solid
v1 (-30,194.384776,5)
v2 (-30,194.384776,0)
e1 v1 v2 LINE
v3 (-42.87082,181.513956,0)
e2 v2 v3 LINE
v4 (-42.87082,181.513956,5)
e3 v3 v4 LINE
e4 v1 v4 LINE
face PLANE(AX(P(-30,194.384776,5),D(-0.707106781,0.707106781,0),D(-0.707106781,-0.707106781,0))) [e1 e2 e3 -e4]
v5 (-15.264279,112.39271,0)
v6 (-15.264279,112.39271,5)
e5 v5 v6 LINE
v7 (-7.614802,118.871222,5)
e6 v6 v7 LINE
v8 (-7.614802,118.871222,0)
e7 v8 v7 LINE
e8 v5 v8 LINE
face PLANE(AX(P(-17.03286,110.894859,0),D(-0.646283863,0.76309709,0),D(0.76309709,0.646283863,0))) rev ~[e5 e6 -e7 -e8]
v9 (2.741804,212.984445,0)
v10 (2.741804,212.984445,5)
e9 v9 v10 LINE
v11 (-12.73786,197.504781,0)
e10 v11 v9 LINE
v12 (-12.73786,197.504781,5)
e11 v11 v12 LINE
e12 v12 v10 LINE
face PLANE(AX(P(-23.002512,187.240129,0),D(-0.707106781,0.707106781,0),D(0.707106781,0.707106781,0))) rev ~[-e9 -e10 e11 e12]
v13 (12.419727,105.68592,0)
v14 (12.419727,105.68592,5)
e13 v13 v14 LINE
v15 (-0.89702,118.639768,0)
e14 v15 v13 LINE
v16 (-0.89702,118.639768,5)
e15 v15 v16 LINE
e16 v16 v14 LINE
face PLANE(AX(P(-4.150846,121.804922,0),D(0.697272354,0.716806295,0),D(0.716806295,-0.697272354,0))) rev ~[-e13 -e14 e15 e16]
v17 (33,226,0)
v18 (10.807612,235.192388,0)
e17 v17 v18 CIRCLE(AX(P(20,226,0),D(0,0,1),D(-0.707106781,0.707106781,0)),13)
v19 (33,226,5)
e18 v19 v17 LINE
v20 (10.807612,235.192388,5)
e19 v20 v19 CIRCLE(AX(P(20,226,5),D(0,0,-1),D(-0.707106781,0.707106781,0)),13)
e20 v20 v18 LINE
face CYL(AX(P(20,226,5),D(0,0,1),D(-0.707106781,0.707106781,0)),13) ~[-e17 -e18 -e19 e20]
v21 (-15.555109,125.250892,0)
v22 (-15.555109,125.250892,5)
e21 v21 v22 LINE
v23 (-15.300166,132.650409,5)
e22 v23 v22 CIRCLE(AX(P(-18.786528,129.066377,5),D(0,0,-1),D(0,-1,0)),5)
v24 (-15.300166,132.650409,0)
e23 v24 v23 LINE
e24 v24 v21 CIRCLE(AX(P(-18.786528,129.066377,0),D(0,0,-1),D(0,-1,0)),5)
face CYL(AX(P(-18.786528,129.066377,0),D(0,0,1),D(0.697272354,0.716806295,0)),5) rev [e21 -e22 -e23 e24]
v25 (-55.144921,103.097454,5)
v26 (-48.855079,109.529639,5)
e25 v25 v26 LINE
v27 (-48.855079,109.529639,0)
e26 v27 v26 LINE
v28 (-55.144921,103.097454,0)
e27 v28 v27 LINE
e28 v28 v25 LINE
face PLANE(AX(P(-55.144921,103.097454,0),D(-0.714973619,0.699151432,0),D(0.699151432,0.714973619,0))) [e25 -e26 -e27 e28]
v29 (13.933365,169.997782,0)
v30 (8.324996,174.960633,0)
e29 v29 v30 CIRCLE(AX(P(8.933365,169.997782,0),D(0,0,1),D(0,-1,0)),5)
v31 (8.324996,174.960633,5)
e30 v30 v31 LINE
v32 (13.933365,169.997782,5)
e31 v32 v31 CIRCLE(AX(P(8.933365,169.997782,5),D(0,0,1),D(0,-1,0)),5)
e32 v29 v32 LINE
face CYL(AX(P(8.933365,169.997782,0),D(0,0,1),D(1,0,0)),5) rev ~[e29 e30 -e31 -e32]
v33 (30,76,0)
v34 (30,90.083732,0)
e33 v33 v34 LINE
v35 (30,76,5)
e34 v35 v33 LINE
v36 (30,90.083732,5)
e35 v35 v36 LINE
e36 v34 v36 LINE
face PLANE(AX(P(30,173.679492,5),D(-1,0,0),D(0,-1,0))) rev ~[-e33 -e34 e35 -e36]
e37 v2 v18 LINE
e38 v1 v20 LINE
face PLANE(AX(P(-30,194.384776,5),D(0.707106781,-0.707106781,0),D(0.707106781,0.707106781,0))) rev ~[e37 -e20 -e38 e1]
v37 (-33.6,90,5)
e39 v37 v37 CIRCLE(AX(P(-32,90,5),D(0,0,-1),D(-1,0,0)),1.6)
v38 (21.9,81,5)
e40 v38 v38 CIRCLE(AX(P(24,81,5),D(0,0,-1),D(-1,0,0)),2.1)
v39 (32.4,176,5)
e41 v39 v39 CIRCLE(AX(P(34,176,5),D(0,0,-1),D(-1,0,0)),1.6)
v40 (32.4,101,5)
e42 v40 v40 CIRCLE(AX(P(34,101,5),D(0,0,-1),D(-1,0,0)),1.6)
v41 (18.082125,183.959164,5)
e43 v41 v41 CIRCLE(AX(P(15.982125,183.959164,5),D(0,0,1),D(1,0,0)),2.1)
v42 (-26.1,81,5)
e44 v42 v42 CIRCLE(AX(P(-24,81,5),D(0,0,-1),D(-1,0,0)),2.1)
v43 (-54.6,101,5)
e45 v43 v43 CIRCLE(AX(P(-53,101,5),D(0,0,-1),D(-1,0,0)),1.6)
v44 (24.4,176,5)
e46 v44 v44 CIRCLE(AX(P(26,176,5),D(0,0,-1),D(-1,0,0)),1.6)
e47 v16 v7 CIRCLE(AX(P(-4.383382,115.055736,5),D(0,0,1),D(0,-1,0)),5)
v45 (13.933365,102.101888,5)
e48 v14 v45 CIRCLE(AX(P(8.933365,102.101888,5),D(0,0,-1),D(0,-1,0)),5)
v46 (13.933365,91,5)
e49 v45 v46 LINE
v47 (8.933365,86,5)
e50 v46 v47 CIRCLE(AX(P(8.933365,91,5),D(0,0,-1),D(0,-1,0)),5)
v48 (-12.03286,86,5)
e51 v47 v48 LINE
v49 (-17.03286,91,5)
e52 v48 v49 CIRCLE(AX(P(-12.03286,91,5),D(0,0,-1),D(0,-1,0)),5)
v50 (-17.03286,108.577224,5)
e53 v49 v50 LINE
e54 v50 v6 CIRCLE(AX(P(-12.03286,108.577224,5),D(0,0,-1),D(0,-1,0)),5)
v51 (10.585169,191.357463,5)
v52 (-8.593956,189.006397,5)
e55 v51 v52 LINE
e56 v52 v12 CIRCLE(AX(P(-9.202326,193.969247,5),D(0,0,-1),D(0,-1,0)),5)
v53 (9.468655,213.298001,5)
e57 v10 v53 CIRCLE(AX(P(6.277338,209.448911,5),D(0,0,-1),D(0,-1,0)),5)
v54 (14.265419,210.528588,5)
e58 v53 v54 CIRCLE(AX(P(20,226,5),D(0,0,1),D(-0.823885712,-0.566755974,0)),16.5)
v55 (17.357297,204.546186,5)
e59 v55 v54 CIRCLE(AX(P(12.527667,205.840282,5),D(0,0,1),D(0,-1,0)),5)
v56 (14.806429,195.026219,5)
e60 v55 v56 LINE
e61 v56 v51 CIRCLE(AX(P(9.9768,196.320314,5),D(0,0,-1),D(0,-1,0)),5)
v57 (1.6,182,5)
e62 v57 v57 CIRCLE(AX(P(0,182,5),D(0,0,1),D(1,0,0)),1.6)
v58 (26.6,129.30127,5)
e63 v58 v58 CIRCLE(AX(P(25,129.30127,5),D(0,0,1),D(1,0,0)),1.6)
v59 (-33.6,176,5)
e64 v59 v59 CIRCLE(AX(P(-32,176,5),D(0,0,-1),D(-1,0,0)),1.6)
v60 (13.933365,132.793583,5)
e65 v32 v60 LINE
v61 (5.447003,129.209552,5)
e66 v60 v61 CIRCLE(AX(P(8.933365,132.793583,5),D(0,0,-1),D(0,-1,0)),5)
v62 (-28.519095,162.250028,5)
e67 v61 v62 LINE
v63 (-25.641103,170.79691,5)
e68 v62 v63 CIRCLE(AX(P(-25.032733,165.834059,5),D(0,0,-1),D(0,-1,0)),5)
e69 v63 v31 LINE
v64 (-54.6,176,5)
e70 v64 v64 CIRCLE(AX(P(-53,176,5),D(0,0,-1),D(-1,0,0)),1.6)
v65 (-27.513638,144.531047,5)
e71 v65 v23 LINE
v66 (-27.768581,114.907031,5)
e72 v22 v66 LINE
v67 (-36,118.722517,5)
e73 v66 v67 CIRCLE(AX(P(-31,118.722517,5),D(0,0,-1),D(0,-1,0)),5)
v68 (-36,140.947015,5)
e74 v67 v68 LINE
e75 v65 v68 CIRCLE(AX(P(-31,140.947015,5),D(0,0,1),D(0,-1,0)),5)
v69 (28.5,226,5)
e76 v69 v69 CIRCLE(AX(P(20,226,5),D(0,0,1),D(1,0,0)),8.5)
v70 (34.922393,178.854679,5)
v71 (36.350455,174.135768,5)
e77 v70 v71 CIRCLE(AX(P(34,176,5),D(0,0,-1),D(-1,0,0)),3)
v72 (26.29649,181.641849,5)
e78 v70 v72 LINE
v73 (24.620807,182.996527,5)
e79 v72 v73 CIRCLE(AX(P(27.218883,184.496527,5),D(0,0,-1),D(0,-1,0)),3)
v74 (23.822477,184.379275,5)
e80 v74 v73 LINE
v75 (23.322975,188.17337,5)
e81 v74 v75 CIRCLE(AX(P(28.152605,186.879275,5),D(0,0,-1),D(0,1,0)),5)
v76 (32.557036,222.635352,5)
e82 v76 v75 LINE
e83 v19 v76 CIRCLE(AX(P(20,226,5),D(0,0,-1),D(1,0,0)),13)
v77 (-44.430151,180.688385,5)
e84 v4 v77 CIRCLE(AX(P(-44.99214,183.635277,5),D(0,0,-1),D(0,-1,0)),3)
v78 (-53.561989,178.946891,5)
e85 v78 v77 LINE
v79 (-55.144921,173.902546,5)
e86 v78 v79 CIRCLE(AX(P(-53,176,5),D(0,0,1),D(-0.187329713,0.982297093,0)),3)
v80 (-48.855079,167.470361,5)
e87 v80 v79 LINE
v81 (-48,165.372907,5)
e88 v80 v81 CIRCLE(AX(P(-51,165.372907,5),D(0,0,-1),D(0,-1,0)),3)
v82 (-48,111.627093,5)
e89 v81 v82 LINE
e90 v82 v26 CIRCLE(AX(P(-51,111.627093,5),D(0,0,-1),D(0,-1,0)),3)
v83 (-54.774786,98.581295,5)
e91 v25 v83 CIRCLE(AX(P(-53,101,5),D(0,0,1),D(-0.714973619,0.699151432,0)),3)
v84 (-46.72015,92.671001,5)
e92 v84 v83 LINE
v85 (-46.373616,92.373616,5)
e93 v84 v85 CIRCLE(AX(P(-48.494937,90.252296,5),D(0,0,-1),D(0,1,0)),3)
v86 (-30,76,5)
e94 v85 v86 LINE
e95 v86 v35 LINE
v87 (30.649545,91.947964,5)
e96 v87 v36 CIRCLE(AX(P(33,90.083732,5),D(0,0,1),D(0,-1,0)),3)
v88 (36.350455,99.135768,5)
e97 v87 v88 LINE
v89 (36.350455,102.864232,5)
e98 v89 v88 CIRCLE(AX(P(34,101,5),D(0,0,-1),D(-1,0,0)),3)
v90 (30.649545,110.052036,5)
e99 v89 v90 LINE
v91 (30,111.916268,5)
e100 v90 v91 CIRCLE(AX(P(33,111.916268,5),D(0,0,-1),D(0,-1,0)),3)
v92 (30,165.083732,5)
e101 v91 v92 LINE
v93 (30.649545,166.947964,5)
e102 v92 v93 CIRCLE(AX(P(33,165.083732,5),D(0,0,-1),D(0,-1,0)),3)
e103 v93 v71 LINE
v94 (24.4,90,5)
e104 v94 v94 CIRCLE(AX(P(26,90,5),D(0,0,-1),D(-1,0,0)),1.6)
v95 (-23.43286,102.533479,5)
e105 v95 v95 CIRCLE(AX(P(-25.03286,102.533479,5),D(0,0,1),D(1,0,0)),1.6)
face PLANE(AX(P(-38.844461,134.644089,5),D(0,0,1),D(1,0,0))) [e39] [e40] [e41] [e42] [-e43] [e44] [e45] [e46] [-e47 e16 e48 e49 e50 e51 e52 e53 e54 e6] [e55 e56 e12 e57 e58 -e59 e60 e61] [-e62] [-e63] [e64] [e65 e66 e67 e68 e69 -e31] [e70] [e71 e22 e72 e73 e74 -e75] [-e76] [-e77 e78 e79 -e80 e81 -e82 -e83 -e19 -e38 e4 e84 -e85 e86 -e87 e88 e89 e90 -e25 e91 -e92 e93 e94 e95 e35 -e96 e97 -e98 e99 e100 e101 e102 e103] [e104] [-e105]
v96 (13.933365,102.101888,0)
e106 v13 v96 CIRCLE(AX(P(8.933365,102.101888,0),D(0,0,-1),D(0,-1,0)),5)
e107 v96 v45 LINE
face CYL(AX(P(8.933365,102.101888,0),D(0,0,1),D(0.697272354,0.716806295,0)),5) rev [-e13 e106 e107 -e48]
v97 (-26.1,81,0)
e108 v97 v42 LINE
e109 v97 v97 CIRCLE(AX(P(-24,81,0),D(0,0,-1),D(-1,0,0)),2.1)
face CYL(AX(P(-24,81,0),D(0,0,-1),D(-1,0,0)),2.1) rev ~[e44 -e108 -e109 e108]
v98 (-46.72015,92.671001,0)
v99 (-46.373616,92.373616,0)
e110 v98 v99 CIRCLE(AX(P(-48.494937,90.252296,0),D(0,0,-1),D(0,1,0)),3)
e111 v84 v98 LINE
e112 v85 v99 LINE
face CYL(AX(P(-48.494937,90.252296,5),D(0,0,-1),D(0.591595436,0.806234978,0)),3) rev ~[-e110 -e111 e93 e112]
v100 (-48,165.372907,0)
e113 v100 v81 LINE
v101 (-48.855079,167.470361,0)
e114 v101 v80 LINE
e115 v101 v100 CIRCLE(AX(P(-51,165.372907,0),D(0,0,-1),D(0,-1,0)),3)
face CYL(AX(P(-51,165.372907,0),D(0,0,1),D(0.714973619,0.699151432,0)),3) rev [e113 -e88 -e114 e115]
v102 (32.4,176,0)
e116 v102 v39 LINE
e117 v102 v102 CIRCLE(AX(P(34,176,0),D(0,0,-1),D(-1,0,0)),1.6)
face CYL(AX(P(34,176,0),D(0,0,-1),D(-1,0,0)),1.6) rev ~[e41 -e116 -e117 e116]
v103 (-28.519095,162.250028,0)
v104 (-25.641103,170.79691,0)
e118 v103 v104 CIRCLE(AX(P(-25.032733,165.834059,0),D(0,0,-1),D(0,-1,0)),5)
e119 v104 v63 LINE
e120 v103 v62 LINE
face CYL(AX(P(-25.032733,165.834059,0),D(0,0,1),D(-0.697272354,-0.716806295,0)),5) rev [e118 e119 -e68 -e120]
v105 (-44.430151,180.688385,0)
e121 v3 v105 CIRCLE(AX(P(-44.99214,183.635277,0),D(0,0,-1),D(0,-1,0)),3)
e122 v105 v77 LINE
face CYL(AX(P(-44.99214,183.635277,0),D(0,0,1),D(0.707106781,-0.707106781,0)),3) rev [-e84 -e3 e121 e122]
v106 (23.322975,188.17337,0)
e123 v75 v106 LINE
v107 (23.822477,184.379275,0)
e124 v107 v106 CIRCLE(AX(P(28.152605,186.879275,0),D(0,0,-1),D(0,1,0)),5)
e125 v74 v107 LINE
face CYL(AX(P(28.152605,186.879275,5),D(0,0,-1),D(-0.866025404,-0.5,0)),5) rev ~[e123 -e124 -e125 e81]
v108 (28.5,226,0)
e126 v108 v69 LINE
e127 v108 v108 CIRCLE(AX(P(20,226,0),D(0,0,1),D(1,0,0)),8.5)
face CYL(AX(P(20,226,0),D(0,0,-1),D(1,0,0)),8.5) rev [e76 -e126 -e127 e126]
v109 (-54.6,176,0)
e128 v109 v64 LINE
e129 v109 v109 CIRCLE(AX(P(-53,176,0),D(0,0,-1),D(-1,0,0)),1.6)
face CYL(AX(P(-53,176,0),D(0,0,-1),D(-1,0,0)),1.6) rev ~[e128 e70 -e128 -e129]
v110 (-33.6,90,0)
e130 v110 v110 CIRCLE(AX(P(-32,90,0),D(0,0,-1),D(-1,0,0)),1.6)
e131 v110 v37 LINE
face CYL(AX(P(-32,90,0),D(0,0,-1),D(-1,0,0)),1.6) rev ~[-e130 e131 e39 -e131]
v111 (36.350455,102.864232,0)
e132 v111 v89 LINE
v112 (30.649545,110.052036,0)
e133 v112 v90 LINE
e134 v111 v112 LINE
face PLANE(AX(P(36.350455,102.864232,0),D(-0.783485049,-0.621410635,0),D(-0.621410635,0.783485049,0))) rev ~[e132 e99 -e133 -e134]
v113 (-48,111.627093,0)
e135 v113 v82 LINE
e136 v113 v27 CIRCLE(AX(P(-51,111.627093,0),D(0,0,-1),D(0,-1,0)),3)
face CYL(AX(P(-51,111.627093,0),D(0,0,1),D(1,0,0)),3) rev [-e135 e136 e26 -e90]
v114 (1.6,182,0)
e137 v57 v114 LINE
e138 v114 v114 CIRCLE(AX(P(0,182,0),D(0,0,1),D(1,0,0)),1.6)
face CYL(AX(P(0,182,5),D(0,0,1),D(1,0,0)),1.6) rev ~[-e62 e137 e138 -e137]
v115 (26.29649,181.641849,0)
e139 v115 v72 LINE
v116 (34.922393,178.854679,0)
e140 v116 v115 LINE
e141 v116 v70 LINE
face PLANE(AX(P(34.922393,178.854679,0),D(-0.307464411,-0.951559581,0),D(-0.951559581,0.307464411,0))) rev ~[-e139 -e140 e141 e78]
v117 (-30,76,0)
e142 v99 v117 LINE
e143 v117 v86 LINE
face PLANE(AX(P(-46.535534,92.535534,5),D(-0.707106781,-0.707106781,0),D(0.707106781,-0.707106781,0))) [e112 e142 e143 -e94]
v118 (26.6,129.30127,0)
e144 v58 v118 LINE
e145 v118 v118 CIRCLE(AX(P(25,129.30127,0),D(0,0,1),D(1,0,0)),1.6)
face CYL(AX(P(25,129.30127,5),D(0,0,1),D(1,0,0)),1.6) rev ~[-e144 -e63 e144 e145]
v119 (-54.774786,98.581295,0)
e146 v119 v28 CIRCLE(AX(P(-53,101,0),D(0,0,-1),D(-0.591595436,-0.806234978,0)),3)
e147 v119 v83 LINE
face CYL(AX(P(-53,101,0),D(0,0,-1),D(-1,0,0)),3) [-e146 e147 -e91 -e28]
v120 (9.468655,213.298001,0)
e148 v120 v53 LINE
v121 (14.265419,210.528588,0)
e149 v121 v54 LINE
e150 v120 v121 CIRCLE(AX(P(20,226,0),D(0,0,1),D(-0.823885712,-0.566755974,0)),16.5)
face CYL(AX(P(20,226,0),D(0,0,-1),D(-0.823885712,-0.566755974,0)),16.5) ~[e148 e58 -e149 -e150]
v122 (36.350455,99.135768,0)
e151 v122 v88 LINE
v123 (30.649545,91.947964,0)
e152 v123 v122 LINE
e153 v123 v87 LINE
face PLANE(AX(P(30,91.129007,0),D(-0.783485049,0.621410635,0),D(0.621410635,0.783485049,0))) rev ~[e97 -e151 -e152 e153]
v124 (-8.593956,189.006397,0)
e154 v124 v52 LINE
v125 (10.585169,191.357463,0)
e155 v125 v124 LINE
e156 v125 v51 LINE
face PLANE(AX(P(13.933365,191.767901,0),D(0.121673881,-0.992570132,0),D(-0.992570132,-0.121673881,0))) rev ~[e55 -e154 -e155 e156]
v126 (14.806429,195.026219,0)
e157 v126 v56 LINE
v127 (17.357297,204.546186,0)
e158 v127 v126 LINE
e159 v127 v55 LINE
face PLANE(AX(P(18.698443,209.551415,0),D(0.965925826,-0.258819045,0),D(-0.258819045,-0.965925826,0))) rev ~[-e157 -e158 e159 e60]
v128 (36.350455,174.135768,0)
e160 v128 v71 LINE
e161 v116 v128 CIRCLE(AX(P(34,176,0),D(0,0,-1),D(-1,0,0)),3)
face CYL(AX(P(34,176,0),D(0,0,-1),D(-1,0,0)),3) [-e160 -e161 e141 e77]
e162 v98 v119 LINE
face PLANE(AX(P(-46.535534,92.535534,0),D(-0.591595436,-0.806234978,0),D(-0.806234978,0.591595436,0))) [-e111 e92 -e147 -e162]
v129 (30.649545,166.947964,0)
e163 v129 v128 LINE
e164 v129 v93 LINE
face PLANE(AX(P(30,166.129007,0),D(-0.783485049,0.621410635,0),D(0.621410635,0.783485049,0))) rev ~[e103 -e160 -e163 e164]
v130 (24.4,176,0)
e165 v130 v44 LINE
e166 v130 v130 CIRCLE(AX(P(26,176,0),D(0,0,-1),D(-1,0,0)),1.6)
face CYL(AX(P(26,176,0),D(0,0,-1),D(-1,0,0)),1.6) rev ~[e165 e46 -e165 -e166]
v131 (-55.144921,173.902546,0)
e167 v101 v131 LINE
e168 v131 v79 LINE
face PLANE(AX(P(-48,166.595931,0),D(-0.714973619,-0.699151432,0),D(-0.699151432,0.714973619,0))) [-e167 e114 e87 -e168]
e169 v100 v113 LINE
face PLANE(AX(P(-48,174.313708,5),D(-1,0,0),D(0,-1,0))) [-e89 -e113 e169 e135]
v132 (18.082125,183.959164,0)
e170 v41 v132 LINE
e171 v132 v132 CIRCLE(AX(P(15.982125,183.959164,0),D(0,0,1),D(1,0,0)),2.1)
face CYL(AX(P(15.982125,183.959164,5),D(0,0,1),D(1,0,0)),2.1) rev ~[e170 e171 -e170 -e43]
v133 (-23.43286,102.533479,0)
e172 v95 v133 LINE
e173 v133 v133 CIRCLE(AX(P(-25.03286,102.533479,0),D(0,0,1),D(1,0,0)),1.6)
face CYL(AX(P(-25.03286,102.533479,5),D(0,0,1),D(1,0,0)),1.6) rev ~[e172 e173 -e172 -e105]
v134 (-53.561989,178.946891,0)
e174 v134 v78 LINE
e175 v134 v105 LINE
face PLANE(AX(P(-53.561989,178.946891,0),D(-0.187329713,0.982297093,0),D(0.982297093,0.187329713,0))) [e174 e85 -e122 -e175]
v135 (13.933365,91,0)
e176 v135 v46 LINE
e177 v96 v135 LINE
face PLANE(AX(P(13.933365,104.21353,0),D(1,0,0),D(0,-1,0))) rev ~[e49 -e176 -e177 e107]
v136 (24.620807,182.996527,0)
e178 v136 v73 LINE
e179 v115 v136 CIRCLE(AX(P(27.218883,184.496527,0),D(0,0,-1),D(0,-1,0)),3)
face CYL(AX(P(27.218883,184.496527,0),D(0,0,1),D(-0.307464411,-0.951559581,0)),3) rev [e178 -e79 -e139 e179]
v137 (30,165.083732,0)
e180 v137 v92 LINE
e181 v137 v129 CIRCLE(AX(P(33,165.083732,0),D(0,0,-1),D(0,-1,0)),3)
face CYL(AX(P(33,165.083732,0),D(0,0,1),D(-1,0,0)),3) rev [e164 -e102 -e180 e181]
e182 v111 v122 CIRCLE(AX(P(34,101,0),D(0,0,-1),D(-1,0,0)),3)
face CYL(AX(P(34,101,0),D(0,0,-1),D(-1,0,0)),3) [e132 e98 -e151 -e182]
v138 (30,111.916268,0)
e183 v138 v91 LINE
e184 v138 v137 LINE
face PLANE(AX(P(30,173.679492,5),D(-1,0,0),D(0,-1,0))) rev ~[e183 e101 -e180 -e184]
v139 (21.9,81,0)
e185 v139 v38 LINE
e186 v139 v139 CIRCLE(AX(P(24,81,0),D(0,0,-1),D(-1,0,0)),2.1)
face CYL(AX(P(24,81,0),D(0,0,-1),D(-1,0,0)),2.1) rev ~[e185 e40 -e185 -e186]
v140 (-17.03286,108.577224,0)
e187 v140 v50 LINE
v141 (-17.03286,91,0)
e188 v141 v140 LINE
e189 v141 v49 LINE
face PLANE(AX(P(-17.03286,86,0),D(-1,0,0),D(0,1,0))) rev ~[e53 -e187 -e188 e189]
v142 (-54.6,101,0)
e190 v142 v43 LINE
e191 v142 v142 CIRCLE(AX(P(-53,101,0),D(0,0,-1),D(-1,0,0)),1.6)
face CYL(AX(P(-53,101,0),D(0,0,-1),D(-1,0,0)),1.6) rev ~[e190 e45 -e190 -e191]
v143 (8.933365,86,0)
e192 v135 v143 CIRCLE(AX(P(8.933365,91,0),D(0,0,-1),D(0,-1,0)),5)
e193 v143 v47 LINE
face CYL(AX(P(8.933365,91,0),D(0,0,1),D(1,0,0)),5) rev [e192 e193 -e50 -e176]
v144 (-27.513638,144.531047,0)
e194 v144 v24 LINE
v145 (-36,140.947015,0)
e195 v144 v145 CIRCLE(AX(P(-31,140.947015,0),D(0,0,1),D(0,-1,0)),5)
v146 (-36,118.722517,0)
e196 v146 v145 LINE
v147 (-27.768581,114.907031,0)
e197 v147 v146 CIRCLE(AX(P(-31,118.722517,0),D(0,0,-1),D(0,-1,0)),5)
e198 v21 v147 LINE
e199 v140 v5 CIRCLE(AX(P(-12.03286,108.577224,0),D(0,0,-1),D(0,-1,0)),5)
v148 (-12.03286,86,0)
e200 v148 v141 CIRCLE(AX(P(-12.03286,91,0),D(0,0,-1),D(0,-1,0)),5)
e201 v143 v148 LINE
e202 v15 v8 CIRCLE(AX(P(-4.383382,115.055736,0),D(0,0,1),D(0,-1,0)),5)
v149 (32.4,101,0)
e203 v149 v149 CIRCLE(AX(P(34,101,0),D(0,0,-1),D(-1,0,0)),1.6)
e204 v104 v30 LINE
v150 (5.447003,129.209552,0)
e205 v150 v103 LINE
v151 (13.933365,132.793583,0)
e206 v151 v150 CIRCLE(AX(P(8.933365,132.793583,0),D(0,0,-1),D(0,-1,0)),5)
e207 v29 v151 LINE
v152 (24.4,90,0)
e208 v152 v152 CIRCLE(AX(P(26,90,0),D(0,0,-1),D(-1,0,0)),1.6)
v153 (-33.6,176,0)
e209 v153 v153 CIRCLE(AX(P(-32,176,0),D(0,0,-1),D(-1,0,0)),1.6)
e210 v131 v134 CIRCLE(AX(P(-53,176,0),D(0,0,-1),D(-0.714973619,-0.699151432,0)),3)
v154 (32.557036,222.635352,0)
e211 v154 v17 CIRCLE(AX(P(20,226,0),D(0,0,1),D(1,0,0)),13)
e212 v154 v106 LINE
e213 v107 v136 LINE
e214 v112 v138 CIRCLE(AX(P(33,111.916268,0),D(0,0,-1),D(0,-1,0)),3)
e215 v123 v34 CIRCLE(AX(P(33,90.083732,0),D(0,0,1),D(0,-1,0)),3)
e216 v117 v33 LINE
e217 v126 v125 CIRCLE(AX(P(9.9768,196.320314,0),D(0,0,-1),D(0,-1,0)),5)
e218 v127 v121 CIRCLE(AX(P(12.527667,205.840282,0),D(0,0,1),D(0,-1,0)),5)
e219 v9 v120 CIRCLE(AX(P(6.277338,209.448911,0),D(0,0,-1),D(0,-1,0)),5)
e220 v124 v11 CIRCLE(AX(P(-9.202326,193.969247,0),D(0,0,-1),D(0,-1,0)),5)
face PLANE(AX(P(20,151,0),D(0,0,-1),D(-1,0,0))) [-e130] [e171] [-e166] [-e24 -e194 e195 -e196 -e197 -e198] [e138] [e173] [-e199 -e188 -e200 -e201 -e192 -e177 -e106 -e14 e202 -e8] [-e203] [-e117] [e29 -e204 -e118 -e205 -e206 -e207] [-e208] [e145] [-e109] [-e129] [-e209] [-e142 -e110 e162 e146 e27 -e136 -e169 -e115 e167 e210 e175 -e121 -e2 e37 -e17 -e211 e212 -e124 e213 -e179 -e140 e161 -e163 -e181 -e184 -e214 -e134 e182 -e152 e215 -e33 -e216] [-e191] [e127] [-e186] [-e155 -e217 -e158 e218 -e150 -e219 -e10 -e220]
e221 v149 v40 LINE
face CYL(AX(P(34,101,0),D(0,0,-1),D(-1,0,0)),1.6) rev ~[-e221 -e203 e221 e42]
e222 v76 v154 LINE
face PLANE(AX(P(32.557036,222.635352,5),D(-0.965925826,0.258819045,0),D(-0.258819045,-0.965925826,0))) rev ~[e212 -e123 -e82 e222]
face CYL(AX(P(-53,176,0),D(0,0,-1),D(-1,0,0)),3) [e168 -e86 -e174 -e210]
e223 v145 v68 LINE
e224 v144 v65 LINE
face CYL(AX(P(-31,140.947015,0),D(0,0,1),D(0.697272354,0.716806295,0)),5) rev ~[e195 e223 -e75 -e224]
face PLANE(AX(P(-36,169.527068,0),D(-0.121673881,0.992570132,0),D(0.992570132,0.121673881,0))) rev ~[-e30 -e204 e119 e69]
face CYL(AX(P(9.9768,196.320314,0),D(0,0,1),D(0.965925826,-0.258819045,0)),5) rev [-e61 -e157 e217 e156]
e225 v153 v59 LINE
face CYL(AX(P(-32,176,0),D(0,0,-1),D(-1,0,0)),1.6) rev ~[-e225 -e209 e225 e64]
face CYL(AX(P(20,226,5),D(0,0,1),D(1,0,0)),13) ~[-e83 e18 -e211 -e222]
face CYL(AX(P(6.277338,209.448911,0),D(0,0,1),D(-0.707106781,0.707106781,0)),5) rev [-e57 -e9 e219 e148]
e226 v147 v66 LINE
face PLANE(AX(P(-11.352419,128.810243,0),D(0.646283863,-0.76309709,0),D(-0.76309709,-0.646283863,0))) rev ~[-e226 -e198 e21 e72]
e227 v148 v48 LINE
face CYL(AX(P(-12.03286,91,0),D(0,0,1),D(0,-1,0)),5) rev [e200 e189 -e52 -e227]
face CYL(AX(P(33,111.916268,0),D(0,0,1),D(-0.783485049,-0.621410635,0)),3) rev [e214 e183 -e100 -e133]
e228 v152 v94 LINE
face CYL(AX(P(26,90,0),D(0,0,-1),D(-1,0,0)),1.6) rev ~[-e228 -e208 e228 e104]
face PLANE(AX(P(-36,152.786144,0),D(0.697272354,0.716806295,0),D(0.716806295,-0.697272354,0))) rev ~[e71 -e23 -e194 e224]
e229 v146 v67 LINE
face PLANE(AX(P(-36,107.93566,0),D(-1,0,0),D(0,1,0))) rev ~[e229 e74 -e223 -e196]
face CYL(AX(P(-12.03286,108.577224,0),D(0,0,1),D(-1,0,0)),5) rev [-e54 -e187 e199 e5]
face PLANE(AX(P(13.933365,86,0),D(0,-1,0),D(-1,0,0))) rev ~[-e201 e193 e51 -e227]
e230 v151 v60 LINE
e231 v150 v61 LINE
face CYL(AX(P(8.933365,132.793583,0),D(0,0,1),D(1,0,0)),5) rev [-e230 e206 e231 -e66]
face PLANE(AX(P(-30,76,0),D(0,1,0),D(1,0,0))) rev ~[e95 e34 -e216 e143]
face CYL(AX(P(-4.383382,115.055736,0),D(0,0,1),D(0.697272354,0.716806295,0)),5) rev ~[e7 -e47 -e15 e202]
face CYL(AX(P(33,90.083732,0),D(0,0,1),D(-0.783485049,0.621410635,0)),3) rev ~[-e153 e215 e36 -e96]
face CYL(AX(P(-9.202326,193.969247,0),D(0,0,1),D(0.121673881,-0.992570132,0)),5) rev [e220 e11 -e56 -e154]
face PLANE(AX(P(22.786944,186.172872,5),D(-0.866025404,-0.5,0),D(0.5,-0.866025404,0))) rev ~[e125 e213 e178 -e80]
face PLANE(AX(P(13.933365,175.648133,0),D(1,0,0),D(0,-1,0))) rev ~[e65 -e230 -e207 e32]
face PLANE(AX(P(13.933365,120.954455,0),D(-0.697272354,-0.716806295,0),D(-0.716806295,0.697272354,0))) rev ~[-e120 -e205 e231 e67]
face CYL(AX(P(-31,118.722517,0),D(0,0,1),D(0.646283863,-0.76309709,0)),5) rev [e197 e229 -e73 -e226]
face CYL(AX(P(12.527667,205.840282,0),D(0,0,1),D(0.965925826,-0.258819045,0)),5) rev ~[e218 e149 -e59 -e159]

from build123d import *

# Parameters (mm, degrees)
SKETCH1_W             = 80
SKETCH1_H             = 180
SKETCH1_R             = 8.5
BOSS_EXTRUDE1_DEPTH   = 5
SKETCH2_R             = 5.5
CUT_EXTRUDE1_DEPTH    = 30
SKETCH3_R             = 1.6
SKETCH3_R_2           = 2.5
CUT_EXTRUDE2_DEPTH    = 5
CUT_EXTRUDE3_DEPTH    = 10
BOSS_EXTRUDE2_DEPTH   = 5
FILLET1_R             = 2
FILLET2_R             = 5
SKETCH6_R             = 2.1
CUT_EXTRUDE4_DEPTH    = 5
SKETCH7_W             = 58.3648838
SKETCH7_H             = 19.178580611
BOSS_EXTRUDE3_DEPTH   = 5
SKETCH8_R             = 2.1
CUT_EXTRUDE5_DEPTH    = 5
SKETCH9_R             = 1.6
CUT_EXTRUDE6_DEPTH    = 5
SKETCH10_R            = 3
SKETCH10_R_2          = 1.6
BOSS_EXTRUDE4_DEPTH   = 5
BOSS_EXTRUDE4_2_DEPTH = 5
BOSS_EXTRUDE4_3_DEPTH = 5
BOSS_EXTRUDE4_4_DEPTH = 5
SKETCH11_R            = 5.5
BOSS_EXTRUDE5_DEPTH   = 5
FILLET3_R             = 3
CUT_EXTRUDE7_DEPTH    = 5
FILLET5_R             = 5


with BuildPart() as part:
    # Sketch1 → Boss-Extrude1 (new body)
    with BuildSketch(Plane.XY):
        with Locations((10, 166)):
            Rectangle(SKETCH1_W, SKETCH1_H)
        with Locations((20, 226)):
            Circle(SKETCH1_R, mode=Mode.SUBTRACT)
    extrude(amount=BOSS_EXTRUDE1_DEPTH)

    # Sketch2 → Cut-Extrude1 (cut)
    with BuildSketch(Plane.XY.offset(5)):
        with Locations((20, 151)):
            Circle(SKETCH2_R)
    extrude(amount=-CUT_EXTRUDE1_DEPTH, mode=Mode.SUBTRACT)

    # Sketch3 → Cut-Extrude2 (cut)
    with BuildSketch(Plane.XY.offset(5)):
        with Locations((0, 182)):
            Circle(SKETCH3_R)
        with Locations((25, 129.301270189)):
            Circle(SKETCH3_R)
        with Locations((-25.032859693, 102.533479235)):
            Circle(SKETCH3_R)
        with Locations((-15, 81)):
            Circle(SKETCH3_R_2)
        with Locations((15, 81)):
            Circle(SKETCH3_R_2)
        with Locations((24, 91)):
            Circle(SKETCH3_R_2)
        with Locations((-24, 91)):
            Circle(SKETCH3_R_2)
    extrude(amount=-CUT_EXTRUDE2_DEPTH, mode=Mode.SUBTRACT)

    # Sketch4 → Cut-Extrude3 (cut)
    with BuildSketch(Plane.XY.offset(5)):
        with BuildLine():
            Line((-30, 194.384776311), (10.807611845, 235.192388155))
            ThreePointArc((10.807611845, 235.192388155), (24.974884621, 238.010433923), (33, 226))
            ThreePointArc((33, 226), (32.888783198, 224.303159501), (32.557035742, 222.635352414))
            Line((32.557035742, 222.635352414), (22.786943589, 186.172872106))
            Line((22.786943589, 186.172872106), (30, 173.679491924))
            Line((30, 173.679491924), (30, 76))
            Line((30, 76), (50, 76))
            Line((50, 76), (50, 256))
            Line((50, 256), (-30, 256))
            Line((-30, 256), (-30, 194.384776311))
        make_face()
    extrude(amount=-CUT_EXTRUDE3_DEPTH, mode=Mode.SUBTRACT)

    # Sketch5 → Boss-Extrude2 (add)
    with BuildSketch(Plane.XY.offset(5)):
        with BuildLine():
            Line((-30, 169.384776311), (-30, 194.384776311))
            Line((-30, 194.384776311), (-46.535533906, 177.849242405))
            ThreePointArc((-46.535533906, 177.849242405), (-47.619397663, 176.227125661), (-48, 174.313708499))
            Line((-48, 174.313708499), (-48, 96.071067812))
            ThreePointArc((-48, 96.071067812), (-47.619397663, 94.15765065), (-46.535533906, 92.535533906))
            Line((-46.535533906, 92.535533906), (-30, 76))
            Line((-30, 76), (-30, 101))
            ThreePointArc((-30, 101), (-35, 96), (-40, 101))
            Line((-40, 101), (-40, 131.707106781))
            Line((-40, 131.707106781), (-30, 121.707106781))
            Line((-30, 121.707106781), (-30, 138.67766953))
            Line((-30, 138.67766953), (-40, 148.67766953))
            Line((-40, 148.67766953), (-40, 169.384776311))
            ThreePointArc((-40, 169.384776311), (-35, 174.384776311), (-30, 169.384776311))
        make_face()
    extrude(amount=-BOSS_EXTRUDE2_DEPTH)

    # Fillet1
    fillet1_edges = [part.edges().sort_by_distance(p)[0] for p in [
        (-30, 121.707106781, 2.5),
        (-40, 131.707106781, 2.5),
        (-40, 148.67766953, 2.5),
        (-30, 138.67766953, 2.5),
    ]]
    fillet(fillet1_edges, radius=FILLET1_R)

    # Fillet2
    fillet2_edges = [part.edges().sort_by_distance(p)[0] for p in [
        (30, 173.679491924, 2.5),
        (22.786943589, 186.172872106, 2.5),
    ]]
    fillet(fillet2_edges, radius=FILLET2_R)

    # Sketch6 → Cut-Extrude4 (cut)
    with BuildSketch(Plane.XY.offset(5)):
        with Locations((15.982125076, 183.959163508)):
            Circle(SKETCH6_R)
    extrude(amount=-CUT_EXTRUDE4_DEPTH, mode=Mode.SUBTRACT)

    # Sketch7 → Boss-Extrude3 (add)
    with BuildSketch(Plane(origin=(0, 0, 0), x_dir=(-1, 0, 0), z_dir=(0, 0, -1))):
        with Locations((-0.8175581, 85.589290306)):
            Rectangle(SKETCH7_W, SKETCH7_H)
    extrude(amount=-BOSS_EXTRUDE3_DEPTH)

    # Sketch8 → Cut-Extrude5 (cut)
    with BuildSketch(Plane(origin=(0, 0, 0), x_dir=(-1, 0, 0), z_dir=(0, 0, -1))):
        with Locations((24, 81)):
            Circle(SKETCH8_R)
        with Locations((-24, 81)):
            Circle(SKETCH8_R)
    extrude(amount=-CUT_EXTRUDE5_DEPTH, mode=Mode.SUBTRACT)

    # Sketch9 → Cut-Extrude6 (cut)
    with BuildSketch(Plane(origin=(0, 0, 0), x_dir=(-1, 0, 0), z_dir=(0, 0, -1))):
        with Locations((-26, 176)):
            Circle(SKETCH9_R)
        with Locations((32, 176)):
            Circle(SKETCH9_R)
        with Locations((-26, 90)):
            Circle(SKETCH9_R)
        with Locations((32, 90)):
            Circle(SKETCH9_R)
    extrude(amount=-CUT_EXTRUDE6_DEPTH, mode=Mode.SUBTRACT)



with BuildPart() as body_2:
    # Sketch10 → Boss-Extrude4 (new body)
    with BuildSketch(Plane(origin=(0, 0, 0), x_dir=(-1, 0, 0), z_dir=(0, 0, -1))):
        with Locations((-34, 176)):
            Circle(SKETCH10_R)
        with Locations((-34, 176)):
            Circle(SKETCH10_R_2, mode=Mode.SUBTRACT)
    extrude(amount=-BOSS_EXTRUDE4_DEPTH)


with BuildPart() as body_3:
    # Sketch10 → Boss-Extrude4 2 (new body)
    with BuildSketch(Plane(origin=(0, 0, 0), x_dir=(-1, 0, 0), z_dir=(0, 0, -1))):
        with Locations((-34, 101)):
            Circle(SKETCH10_R)
        with Locations((-34, 101)):
            Circle(SKETCH10_R_2, mode=Mode.SUBTRACT)
    extrude(amount=-BOSS_EXTRUDE4_2_DEPTH)


with BuildPart() as body_4:
    # Sketch10 → Boss-Extrude4 3 (new body)
    with BuildSketch(Plane(origin=(0, 0, 0), x_dir=(-1, 0, 0), z_dir=(0, 0, -1))):
        with Locations((53, 176)):
            Circle(SKETCH10_R)
        with Locations((53, 176)):
            Circle(SKETCH10_R_2, mode=Mode.SUBTRACT)
    extrude(amount=-BOSS_EXTRUDE4_3_DEPTH)


with BuildPart() as body_5:
    # Sketch10 → Boss-Extrude4 4 (new body)
    with BuildSketch(Plane(origin=(0, 0, 0), x_dir=(-1, 0, 0), z_dir=(0, 0, -1))):
        with Locations((53, 101)):
            Circle(SKETCH10_R)
        with Locations((53, 101)):
            Circle(SKETCH10_R_2, mode=Mode.SUBTRACT)
    extrude(amount=-BOSS_EXTRUDE4_4_DEPTH)


with BuildPart() as part_1:
    add(part.part)

    add(body_2.part)  # Boss-Extrude5 merges body 2

    add(body_3.part)  # Boss-Extrude5 merges body 3

    add(body_4.part)  # Boss-Extrude5 merges body 4

    add(body_5.part)  # Boss-Extrude5 merges body 5
    # Sketch11 → Boss-Extrude5 (add)
    with BuildSketch(Plane(origin=(0, 0, 0), x_dir=(-1, 0, 0), z_dir=(0, 0, -1))):
        with Locations((-20, 151)):
            Circle(SKETCH11_R)
        with BuildLine():
            Line((30, 120.878679656), (30, 101))
            ThreePointArc((30, 101), (35, 96), (40, 101))
            Line((40, 101), (40, 126.878679656))
            ThreePointArc((40, 126.878679656), (38.765366865, 128.726438721), (36.585786438, 128.292893219))
            Line((36.585786438, 128.292893219), (30.585786438, 122.292893219))
            ThreePointArc((30.585786438, 122.292893219), (30.152240935, 121.644046521), (30, 120.878679656))
        make_face()
        with BuildLine():
            Line((40, 169.384776311), (40, 149.506096654))
            ThreePointArc((40, 149.506096654), (39.847759065, 148.74072979), (39.414213562, 148.091883092))
            Line((39.414213562, 148.091883092), (33.414213562, 142.091883092))
            ThreePointArc((33.414213562, 142.091883092), (31.234633135, 141.658337589), (30, 143.506096654))
            Line((30, 143.506096654), (30, 169.384776311))
            ThreePointArc((30, 169.384776311), (35, 174.384776311), (40, 169.384776311))
        make_face()
        with BuildLine():
            Line((53.561989138, 178.946891279), (43.523484359, 180.861291952))
            Line((43.523484359, 180.861291952), (46.535533906, 177.849242405))
            ThreePointArc((46.535533906, 177.849242405), (47.619397663, 176.227125661), (48, 174.313708499))
            Line((48, 174.313708499), (48, 166.595931299))
            Line((48, 166.595931299), (55.144920857, 173.902545705))
            ThreePointArc((55.144920857, 173.902545705), (50.137624065, 175.101777308), (53.561989138, 178.946891279))
        make_face()
        with BuildLine():
            Line((55.144920857, 103.097454295), (48, 110.404068701))
            Line((48, 110.404068701), (48, 96.071067812))
            ThreePointArc((48, 96.071067812), (47.619397663, 94.15765065), (46.535533906, 92.535533906))
            Line((46.535533906, 92.535533906), (54.774786308, 98.581295065))
            ThreePointArc((54.774786308, 98.581295065), (50.010025149, 101.24505181), (55.144920857, 103.097454295))
        make_face()
        with BuildLine():
            Line((-34.922393234, 178.854678742), (-25.198007946, 181.99678614))
            Line((-25.198007946, 181.99678614), (-29.330127019, 174.839745962))
            ThreePointArc((-29.330127019, 174.839745962), (-29.829629131, 173.633841188), (-30, 172.339745962))
            Line((-30, 172.339745962), (-30, 166.12900673))
            Line((-30, 166.12900673), (-36.350455148, 174.135768095))
            ThreePointArc((-36.350455148, 174.135768095), (-31.128604249, 175.1310429), (-34.922393234, 178.854678742))
        make_face()
        with BuildLine():
            Line((-36.350455148, 102.864231905), (-30, 110.87099327))
            Line((-30, 110.87099327), (-30, 91.12900673))
            Line((-30, 91.12900673), (-36.350455148, 99.135768095))
            ThreePointArc((-36.350455148, 99.135768095), (-31, 101), (-36.350455148, 102.864231905))
        make_face()
    extrude(amount=-BOSS_EXTRUDE5_DEPTH)

    # Fillet3
    fillet3_edges = [part_1.edges().sort_by_distance(p)[0] for p in [
        (-46.535533906, 92.535533906, 2.5),
        (-48, 166.595931299, 2.5),
        (-43.523484359, 180.861291952, 2.5),
        (-48, 110.404068701, 2.5),
        (25.198007946, 181.99678614, 2.5),
        (30, 166.12900673, 2.5),
        (30, 110.87099327, 2.5),
        (30, 91.12900673, 2.5),
    ]]
    fillet(fillet3_edges, radius=FILLET3_R)

    # Sketch12 → Cut-Extrude7 (cut)
    with BuildSketch(Plane(origin=(0, 0, 0), x_dir=(-1, 0, 0), z_dir=(0, 0, -1))):
        with BuildLine():
            Line((-18.698443457, 209.551414937), (-13.933365214, 191.767900833))
            Line((-13.933365214, 191.767900833), (23.002512143, 187.240128544))
            Line((23.002512143, 187.240128544), (-6.405885751, 216.648526438))
            ThreePointArc((-6.405885751, 216.648526438), (-11.75, 211.710580838), (-18.698443457, 209.551414937))
        make_face()
        Polygon((-13.933365214, 175.648133085), (-13.933365214, 120.954454576), (36, 169.527068053), align=None)
        Polygon((36, 152.786143643), (11.352419227, 128.810242782), (36, 107.935659547), align=None)
        Polygon((4.150846245, 121.804922404), (-13.933365214, 104.213530166), (-13.933365214, 86), (17.032859693, 86), (17.032859693, 110.894859285), align=None)
    extrude(amount=-CUT_EXTRUDE7_DEPTH, mode=Mode.SUBTRACT)

    # Fillet5
    fillet5_edges = [part_1.edges().sort_by_distance(p)[0] for p in [
        (18.698443457, 209.551414937, 2.5),
        (6.405885751, 216.648526438, 2.5),
        (-23.002512143, 187.240128544, 2.5),
        (13.933365214, 191.767900833, 2.5),
        (-17.032859693, 86, 2.5),
        (13.933365214, 86, 2.5),
        (13.933365214, 104.213530166, 2.5),
        (-4.150846245, 121.804922404, 2.5),
        (-17.032859693, 110.894859285, 2.5),
        (13.933365214, 175.648133085, 2.5),
        (-36, 169.527068053, 2.5),
        (13.933365214, 120.954454576, 2.5),
        (-36, 152.786143643, 2.5),
        (-36, 107.935659547, 2.5),
        (-11.352419227, 128.810242782, 2.5),
    ]]
    fillet(fillet5_edges, radius=FILLET5_R)


solid = part_1.part
